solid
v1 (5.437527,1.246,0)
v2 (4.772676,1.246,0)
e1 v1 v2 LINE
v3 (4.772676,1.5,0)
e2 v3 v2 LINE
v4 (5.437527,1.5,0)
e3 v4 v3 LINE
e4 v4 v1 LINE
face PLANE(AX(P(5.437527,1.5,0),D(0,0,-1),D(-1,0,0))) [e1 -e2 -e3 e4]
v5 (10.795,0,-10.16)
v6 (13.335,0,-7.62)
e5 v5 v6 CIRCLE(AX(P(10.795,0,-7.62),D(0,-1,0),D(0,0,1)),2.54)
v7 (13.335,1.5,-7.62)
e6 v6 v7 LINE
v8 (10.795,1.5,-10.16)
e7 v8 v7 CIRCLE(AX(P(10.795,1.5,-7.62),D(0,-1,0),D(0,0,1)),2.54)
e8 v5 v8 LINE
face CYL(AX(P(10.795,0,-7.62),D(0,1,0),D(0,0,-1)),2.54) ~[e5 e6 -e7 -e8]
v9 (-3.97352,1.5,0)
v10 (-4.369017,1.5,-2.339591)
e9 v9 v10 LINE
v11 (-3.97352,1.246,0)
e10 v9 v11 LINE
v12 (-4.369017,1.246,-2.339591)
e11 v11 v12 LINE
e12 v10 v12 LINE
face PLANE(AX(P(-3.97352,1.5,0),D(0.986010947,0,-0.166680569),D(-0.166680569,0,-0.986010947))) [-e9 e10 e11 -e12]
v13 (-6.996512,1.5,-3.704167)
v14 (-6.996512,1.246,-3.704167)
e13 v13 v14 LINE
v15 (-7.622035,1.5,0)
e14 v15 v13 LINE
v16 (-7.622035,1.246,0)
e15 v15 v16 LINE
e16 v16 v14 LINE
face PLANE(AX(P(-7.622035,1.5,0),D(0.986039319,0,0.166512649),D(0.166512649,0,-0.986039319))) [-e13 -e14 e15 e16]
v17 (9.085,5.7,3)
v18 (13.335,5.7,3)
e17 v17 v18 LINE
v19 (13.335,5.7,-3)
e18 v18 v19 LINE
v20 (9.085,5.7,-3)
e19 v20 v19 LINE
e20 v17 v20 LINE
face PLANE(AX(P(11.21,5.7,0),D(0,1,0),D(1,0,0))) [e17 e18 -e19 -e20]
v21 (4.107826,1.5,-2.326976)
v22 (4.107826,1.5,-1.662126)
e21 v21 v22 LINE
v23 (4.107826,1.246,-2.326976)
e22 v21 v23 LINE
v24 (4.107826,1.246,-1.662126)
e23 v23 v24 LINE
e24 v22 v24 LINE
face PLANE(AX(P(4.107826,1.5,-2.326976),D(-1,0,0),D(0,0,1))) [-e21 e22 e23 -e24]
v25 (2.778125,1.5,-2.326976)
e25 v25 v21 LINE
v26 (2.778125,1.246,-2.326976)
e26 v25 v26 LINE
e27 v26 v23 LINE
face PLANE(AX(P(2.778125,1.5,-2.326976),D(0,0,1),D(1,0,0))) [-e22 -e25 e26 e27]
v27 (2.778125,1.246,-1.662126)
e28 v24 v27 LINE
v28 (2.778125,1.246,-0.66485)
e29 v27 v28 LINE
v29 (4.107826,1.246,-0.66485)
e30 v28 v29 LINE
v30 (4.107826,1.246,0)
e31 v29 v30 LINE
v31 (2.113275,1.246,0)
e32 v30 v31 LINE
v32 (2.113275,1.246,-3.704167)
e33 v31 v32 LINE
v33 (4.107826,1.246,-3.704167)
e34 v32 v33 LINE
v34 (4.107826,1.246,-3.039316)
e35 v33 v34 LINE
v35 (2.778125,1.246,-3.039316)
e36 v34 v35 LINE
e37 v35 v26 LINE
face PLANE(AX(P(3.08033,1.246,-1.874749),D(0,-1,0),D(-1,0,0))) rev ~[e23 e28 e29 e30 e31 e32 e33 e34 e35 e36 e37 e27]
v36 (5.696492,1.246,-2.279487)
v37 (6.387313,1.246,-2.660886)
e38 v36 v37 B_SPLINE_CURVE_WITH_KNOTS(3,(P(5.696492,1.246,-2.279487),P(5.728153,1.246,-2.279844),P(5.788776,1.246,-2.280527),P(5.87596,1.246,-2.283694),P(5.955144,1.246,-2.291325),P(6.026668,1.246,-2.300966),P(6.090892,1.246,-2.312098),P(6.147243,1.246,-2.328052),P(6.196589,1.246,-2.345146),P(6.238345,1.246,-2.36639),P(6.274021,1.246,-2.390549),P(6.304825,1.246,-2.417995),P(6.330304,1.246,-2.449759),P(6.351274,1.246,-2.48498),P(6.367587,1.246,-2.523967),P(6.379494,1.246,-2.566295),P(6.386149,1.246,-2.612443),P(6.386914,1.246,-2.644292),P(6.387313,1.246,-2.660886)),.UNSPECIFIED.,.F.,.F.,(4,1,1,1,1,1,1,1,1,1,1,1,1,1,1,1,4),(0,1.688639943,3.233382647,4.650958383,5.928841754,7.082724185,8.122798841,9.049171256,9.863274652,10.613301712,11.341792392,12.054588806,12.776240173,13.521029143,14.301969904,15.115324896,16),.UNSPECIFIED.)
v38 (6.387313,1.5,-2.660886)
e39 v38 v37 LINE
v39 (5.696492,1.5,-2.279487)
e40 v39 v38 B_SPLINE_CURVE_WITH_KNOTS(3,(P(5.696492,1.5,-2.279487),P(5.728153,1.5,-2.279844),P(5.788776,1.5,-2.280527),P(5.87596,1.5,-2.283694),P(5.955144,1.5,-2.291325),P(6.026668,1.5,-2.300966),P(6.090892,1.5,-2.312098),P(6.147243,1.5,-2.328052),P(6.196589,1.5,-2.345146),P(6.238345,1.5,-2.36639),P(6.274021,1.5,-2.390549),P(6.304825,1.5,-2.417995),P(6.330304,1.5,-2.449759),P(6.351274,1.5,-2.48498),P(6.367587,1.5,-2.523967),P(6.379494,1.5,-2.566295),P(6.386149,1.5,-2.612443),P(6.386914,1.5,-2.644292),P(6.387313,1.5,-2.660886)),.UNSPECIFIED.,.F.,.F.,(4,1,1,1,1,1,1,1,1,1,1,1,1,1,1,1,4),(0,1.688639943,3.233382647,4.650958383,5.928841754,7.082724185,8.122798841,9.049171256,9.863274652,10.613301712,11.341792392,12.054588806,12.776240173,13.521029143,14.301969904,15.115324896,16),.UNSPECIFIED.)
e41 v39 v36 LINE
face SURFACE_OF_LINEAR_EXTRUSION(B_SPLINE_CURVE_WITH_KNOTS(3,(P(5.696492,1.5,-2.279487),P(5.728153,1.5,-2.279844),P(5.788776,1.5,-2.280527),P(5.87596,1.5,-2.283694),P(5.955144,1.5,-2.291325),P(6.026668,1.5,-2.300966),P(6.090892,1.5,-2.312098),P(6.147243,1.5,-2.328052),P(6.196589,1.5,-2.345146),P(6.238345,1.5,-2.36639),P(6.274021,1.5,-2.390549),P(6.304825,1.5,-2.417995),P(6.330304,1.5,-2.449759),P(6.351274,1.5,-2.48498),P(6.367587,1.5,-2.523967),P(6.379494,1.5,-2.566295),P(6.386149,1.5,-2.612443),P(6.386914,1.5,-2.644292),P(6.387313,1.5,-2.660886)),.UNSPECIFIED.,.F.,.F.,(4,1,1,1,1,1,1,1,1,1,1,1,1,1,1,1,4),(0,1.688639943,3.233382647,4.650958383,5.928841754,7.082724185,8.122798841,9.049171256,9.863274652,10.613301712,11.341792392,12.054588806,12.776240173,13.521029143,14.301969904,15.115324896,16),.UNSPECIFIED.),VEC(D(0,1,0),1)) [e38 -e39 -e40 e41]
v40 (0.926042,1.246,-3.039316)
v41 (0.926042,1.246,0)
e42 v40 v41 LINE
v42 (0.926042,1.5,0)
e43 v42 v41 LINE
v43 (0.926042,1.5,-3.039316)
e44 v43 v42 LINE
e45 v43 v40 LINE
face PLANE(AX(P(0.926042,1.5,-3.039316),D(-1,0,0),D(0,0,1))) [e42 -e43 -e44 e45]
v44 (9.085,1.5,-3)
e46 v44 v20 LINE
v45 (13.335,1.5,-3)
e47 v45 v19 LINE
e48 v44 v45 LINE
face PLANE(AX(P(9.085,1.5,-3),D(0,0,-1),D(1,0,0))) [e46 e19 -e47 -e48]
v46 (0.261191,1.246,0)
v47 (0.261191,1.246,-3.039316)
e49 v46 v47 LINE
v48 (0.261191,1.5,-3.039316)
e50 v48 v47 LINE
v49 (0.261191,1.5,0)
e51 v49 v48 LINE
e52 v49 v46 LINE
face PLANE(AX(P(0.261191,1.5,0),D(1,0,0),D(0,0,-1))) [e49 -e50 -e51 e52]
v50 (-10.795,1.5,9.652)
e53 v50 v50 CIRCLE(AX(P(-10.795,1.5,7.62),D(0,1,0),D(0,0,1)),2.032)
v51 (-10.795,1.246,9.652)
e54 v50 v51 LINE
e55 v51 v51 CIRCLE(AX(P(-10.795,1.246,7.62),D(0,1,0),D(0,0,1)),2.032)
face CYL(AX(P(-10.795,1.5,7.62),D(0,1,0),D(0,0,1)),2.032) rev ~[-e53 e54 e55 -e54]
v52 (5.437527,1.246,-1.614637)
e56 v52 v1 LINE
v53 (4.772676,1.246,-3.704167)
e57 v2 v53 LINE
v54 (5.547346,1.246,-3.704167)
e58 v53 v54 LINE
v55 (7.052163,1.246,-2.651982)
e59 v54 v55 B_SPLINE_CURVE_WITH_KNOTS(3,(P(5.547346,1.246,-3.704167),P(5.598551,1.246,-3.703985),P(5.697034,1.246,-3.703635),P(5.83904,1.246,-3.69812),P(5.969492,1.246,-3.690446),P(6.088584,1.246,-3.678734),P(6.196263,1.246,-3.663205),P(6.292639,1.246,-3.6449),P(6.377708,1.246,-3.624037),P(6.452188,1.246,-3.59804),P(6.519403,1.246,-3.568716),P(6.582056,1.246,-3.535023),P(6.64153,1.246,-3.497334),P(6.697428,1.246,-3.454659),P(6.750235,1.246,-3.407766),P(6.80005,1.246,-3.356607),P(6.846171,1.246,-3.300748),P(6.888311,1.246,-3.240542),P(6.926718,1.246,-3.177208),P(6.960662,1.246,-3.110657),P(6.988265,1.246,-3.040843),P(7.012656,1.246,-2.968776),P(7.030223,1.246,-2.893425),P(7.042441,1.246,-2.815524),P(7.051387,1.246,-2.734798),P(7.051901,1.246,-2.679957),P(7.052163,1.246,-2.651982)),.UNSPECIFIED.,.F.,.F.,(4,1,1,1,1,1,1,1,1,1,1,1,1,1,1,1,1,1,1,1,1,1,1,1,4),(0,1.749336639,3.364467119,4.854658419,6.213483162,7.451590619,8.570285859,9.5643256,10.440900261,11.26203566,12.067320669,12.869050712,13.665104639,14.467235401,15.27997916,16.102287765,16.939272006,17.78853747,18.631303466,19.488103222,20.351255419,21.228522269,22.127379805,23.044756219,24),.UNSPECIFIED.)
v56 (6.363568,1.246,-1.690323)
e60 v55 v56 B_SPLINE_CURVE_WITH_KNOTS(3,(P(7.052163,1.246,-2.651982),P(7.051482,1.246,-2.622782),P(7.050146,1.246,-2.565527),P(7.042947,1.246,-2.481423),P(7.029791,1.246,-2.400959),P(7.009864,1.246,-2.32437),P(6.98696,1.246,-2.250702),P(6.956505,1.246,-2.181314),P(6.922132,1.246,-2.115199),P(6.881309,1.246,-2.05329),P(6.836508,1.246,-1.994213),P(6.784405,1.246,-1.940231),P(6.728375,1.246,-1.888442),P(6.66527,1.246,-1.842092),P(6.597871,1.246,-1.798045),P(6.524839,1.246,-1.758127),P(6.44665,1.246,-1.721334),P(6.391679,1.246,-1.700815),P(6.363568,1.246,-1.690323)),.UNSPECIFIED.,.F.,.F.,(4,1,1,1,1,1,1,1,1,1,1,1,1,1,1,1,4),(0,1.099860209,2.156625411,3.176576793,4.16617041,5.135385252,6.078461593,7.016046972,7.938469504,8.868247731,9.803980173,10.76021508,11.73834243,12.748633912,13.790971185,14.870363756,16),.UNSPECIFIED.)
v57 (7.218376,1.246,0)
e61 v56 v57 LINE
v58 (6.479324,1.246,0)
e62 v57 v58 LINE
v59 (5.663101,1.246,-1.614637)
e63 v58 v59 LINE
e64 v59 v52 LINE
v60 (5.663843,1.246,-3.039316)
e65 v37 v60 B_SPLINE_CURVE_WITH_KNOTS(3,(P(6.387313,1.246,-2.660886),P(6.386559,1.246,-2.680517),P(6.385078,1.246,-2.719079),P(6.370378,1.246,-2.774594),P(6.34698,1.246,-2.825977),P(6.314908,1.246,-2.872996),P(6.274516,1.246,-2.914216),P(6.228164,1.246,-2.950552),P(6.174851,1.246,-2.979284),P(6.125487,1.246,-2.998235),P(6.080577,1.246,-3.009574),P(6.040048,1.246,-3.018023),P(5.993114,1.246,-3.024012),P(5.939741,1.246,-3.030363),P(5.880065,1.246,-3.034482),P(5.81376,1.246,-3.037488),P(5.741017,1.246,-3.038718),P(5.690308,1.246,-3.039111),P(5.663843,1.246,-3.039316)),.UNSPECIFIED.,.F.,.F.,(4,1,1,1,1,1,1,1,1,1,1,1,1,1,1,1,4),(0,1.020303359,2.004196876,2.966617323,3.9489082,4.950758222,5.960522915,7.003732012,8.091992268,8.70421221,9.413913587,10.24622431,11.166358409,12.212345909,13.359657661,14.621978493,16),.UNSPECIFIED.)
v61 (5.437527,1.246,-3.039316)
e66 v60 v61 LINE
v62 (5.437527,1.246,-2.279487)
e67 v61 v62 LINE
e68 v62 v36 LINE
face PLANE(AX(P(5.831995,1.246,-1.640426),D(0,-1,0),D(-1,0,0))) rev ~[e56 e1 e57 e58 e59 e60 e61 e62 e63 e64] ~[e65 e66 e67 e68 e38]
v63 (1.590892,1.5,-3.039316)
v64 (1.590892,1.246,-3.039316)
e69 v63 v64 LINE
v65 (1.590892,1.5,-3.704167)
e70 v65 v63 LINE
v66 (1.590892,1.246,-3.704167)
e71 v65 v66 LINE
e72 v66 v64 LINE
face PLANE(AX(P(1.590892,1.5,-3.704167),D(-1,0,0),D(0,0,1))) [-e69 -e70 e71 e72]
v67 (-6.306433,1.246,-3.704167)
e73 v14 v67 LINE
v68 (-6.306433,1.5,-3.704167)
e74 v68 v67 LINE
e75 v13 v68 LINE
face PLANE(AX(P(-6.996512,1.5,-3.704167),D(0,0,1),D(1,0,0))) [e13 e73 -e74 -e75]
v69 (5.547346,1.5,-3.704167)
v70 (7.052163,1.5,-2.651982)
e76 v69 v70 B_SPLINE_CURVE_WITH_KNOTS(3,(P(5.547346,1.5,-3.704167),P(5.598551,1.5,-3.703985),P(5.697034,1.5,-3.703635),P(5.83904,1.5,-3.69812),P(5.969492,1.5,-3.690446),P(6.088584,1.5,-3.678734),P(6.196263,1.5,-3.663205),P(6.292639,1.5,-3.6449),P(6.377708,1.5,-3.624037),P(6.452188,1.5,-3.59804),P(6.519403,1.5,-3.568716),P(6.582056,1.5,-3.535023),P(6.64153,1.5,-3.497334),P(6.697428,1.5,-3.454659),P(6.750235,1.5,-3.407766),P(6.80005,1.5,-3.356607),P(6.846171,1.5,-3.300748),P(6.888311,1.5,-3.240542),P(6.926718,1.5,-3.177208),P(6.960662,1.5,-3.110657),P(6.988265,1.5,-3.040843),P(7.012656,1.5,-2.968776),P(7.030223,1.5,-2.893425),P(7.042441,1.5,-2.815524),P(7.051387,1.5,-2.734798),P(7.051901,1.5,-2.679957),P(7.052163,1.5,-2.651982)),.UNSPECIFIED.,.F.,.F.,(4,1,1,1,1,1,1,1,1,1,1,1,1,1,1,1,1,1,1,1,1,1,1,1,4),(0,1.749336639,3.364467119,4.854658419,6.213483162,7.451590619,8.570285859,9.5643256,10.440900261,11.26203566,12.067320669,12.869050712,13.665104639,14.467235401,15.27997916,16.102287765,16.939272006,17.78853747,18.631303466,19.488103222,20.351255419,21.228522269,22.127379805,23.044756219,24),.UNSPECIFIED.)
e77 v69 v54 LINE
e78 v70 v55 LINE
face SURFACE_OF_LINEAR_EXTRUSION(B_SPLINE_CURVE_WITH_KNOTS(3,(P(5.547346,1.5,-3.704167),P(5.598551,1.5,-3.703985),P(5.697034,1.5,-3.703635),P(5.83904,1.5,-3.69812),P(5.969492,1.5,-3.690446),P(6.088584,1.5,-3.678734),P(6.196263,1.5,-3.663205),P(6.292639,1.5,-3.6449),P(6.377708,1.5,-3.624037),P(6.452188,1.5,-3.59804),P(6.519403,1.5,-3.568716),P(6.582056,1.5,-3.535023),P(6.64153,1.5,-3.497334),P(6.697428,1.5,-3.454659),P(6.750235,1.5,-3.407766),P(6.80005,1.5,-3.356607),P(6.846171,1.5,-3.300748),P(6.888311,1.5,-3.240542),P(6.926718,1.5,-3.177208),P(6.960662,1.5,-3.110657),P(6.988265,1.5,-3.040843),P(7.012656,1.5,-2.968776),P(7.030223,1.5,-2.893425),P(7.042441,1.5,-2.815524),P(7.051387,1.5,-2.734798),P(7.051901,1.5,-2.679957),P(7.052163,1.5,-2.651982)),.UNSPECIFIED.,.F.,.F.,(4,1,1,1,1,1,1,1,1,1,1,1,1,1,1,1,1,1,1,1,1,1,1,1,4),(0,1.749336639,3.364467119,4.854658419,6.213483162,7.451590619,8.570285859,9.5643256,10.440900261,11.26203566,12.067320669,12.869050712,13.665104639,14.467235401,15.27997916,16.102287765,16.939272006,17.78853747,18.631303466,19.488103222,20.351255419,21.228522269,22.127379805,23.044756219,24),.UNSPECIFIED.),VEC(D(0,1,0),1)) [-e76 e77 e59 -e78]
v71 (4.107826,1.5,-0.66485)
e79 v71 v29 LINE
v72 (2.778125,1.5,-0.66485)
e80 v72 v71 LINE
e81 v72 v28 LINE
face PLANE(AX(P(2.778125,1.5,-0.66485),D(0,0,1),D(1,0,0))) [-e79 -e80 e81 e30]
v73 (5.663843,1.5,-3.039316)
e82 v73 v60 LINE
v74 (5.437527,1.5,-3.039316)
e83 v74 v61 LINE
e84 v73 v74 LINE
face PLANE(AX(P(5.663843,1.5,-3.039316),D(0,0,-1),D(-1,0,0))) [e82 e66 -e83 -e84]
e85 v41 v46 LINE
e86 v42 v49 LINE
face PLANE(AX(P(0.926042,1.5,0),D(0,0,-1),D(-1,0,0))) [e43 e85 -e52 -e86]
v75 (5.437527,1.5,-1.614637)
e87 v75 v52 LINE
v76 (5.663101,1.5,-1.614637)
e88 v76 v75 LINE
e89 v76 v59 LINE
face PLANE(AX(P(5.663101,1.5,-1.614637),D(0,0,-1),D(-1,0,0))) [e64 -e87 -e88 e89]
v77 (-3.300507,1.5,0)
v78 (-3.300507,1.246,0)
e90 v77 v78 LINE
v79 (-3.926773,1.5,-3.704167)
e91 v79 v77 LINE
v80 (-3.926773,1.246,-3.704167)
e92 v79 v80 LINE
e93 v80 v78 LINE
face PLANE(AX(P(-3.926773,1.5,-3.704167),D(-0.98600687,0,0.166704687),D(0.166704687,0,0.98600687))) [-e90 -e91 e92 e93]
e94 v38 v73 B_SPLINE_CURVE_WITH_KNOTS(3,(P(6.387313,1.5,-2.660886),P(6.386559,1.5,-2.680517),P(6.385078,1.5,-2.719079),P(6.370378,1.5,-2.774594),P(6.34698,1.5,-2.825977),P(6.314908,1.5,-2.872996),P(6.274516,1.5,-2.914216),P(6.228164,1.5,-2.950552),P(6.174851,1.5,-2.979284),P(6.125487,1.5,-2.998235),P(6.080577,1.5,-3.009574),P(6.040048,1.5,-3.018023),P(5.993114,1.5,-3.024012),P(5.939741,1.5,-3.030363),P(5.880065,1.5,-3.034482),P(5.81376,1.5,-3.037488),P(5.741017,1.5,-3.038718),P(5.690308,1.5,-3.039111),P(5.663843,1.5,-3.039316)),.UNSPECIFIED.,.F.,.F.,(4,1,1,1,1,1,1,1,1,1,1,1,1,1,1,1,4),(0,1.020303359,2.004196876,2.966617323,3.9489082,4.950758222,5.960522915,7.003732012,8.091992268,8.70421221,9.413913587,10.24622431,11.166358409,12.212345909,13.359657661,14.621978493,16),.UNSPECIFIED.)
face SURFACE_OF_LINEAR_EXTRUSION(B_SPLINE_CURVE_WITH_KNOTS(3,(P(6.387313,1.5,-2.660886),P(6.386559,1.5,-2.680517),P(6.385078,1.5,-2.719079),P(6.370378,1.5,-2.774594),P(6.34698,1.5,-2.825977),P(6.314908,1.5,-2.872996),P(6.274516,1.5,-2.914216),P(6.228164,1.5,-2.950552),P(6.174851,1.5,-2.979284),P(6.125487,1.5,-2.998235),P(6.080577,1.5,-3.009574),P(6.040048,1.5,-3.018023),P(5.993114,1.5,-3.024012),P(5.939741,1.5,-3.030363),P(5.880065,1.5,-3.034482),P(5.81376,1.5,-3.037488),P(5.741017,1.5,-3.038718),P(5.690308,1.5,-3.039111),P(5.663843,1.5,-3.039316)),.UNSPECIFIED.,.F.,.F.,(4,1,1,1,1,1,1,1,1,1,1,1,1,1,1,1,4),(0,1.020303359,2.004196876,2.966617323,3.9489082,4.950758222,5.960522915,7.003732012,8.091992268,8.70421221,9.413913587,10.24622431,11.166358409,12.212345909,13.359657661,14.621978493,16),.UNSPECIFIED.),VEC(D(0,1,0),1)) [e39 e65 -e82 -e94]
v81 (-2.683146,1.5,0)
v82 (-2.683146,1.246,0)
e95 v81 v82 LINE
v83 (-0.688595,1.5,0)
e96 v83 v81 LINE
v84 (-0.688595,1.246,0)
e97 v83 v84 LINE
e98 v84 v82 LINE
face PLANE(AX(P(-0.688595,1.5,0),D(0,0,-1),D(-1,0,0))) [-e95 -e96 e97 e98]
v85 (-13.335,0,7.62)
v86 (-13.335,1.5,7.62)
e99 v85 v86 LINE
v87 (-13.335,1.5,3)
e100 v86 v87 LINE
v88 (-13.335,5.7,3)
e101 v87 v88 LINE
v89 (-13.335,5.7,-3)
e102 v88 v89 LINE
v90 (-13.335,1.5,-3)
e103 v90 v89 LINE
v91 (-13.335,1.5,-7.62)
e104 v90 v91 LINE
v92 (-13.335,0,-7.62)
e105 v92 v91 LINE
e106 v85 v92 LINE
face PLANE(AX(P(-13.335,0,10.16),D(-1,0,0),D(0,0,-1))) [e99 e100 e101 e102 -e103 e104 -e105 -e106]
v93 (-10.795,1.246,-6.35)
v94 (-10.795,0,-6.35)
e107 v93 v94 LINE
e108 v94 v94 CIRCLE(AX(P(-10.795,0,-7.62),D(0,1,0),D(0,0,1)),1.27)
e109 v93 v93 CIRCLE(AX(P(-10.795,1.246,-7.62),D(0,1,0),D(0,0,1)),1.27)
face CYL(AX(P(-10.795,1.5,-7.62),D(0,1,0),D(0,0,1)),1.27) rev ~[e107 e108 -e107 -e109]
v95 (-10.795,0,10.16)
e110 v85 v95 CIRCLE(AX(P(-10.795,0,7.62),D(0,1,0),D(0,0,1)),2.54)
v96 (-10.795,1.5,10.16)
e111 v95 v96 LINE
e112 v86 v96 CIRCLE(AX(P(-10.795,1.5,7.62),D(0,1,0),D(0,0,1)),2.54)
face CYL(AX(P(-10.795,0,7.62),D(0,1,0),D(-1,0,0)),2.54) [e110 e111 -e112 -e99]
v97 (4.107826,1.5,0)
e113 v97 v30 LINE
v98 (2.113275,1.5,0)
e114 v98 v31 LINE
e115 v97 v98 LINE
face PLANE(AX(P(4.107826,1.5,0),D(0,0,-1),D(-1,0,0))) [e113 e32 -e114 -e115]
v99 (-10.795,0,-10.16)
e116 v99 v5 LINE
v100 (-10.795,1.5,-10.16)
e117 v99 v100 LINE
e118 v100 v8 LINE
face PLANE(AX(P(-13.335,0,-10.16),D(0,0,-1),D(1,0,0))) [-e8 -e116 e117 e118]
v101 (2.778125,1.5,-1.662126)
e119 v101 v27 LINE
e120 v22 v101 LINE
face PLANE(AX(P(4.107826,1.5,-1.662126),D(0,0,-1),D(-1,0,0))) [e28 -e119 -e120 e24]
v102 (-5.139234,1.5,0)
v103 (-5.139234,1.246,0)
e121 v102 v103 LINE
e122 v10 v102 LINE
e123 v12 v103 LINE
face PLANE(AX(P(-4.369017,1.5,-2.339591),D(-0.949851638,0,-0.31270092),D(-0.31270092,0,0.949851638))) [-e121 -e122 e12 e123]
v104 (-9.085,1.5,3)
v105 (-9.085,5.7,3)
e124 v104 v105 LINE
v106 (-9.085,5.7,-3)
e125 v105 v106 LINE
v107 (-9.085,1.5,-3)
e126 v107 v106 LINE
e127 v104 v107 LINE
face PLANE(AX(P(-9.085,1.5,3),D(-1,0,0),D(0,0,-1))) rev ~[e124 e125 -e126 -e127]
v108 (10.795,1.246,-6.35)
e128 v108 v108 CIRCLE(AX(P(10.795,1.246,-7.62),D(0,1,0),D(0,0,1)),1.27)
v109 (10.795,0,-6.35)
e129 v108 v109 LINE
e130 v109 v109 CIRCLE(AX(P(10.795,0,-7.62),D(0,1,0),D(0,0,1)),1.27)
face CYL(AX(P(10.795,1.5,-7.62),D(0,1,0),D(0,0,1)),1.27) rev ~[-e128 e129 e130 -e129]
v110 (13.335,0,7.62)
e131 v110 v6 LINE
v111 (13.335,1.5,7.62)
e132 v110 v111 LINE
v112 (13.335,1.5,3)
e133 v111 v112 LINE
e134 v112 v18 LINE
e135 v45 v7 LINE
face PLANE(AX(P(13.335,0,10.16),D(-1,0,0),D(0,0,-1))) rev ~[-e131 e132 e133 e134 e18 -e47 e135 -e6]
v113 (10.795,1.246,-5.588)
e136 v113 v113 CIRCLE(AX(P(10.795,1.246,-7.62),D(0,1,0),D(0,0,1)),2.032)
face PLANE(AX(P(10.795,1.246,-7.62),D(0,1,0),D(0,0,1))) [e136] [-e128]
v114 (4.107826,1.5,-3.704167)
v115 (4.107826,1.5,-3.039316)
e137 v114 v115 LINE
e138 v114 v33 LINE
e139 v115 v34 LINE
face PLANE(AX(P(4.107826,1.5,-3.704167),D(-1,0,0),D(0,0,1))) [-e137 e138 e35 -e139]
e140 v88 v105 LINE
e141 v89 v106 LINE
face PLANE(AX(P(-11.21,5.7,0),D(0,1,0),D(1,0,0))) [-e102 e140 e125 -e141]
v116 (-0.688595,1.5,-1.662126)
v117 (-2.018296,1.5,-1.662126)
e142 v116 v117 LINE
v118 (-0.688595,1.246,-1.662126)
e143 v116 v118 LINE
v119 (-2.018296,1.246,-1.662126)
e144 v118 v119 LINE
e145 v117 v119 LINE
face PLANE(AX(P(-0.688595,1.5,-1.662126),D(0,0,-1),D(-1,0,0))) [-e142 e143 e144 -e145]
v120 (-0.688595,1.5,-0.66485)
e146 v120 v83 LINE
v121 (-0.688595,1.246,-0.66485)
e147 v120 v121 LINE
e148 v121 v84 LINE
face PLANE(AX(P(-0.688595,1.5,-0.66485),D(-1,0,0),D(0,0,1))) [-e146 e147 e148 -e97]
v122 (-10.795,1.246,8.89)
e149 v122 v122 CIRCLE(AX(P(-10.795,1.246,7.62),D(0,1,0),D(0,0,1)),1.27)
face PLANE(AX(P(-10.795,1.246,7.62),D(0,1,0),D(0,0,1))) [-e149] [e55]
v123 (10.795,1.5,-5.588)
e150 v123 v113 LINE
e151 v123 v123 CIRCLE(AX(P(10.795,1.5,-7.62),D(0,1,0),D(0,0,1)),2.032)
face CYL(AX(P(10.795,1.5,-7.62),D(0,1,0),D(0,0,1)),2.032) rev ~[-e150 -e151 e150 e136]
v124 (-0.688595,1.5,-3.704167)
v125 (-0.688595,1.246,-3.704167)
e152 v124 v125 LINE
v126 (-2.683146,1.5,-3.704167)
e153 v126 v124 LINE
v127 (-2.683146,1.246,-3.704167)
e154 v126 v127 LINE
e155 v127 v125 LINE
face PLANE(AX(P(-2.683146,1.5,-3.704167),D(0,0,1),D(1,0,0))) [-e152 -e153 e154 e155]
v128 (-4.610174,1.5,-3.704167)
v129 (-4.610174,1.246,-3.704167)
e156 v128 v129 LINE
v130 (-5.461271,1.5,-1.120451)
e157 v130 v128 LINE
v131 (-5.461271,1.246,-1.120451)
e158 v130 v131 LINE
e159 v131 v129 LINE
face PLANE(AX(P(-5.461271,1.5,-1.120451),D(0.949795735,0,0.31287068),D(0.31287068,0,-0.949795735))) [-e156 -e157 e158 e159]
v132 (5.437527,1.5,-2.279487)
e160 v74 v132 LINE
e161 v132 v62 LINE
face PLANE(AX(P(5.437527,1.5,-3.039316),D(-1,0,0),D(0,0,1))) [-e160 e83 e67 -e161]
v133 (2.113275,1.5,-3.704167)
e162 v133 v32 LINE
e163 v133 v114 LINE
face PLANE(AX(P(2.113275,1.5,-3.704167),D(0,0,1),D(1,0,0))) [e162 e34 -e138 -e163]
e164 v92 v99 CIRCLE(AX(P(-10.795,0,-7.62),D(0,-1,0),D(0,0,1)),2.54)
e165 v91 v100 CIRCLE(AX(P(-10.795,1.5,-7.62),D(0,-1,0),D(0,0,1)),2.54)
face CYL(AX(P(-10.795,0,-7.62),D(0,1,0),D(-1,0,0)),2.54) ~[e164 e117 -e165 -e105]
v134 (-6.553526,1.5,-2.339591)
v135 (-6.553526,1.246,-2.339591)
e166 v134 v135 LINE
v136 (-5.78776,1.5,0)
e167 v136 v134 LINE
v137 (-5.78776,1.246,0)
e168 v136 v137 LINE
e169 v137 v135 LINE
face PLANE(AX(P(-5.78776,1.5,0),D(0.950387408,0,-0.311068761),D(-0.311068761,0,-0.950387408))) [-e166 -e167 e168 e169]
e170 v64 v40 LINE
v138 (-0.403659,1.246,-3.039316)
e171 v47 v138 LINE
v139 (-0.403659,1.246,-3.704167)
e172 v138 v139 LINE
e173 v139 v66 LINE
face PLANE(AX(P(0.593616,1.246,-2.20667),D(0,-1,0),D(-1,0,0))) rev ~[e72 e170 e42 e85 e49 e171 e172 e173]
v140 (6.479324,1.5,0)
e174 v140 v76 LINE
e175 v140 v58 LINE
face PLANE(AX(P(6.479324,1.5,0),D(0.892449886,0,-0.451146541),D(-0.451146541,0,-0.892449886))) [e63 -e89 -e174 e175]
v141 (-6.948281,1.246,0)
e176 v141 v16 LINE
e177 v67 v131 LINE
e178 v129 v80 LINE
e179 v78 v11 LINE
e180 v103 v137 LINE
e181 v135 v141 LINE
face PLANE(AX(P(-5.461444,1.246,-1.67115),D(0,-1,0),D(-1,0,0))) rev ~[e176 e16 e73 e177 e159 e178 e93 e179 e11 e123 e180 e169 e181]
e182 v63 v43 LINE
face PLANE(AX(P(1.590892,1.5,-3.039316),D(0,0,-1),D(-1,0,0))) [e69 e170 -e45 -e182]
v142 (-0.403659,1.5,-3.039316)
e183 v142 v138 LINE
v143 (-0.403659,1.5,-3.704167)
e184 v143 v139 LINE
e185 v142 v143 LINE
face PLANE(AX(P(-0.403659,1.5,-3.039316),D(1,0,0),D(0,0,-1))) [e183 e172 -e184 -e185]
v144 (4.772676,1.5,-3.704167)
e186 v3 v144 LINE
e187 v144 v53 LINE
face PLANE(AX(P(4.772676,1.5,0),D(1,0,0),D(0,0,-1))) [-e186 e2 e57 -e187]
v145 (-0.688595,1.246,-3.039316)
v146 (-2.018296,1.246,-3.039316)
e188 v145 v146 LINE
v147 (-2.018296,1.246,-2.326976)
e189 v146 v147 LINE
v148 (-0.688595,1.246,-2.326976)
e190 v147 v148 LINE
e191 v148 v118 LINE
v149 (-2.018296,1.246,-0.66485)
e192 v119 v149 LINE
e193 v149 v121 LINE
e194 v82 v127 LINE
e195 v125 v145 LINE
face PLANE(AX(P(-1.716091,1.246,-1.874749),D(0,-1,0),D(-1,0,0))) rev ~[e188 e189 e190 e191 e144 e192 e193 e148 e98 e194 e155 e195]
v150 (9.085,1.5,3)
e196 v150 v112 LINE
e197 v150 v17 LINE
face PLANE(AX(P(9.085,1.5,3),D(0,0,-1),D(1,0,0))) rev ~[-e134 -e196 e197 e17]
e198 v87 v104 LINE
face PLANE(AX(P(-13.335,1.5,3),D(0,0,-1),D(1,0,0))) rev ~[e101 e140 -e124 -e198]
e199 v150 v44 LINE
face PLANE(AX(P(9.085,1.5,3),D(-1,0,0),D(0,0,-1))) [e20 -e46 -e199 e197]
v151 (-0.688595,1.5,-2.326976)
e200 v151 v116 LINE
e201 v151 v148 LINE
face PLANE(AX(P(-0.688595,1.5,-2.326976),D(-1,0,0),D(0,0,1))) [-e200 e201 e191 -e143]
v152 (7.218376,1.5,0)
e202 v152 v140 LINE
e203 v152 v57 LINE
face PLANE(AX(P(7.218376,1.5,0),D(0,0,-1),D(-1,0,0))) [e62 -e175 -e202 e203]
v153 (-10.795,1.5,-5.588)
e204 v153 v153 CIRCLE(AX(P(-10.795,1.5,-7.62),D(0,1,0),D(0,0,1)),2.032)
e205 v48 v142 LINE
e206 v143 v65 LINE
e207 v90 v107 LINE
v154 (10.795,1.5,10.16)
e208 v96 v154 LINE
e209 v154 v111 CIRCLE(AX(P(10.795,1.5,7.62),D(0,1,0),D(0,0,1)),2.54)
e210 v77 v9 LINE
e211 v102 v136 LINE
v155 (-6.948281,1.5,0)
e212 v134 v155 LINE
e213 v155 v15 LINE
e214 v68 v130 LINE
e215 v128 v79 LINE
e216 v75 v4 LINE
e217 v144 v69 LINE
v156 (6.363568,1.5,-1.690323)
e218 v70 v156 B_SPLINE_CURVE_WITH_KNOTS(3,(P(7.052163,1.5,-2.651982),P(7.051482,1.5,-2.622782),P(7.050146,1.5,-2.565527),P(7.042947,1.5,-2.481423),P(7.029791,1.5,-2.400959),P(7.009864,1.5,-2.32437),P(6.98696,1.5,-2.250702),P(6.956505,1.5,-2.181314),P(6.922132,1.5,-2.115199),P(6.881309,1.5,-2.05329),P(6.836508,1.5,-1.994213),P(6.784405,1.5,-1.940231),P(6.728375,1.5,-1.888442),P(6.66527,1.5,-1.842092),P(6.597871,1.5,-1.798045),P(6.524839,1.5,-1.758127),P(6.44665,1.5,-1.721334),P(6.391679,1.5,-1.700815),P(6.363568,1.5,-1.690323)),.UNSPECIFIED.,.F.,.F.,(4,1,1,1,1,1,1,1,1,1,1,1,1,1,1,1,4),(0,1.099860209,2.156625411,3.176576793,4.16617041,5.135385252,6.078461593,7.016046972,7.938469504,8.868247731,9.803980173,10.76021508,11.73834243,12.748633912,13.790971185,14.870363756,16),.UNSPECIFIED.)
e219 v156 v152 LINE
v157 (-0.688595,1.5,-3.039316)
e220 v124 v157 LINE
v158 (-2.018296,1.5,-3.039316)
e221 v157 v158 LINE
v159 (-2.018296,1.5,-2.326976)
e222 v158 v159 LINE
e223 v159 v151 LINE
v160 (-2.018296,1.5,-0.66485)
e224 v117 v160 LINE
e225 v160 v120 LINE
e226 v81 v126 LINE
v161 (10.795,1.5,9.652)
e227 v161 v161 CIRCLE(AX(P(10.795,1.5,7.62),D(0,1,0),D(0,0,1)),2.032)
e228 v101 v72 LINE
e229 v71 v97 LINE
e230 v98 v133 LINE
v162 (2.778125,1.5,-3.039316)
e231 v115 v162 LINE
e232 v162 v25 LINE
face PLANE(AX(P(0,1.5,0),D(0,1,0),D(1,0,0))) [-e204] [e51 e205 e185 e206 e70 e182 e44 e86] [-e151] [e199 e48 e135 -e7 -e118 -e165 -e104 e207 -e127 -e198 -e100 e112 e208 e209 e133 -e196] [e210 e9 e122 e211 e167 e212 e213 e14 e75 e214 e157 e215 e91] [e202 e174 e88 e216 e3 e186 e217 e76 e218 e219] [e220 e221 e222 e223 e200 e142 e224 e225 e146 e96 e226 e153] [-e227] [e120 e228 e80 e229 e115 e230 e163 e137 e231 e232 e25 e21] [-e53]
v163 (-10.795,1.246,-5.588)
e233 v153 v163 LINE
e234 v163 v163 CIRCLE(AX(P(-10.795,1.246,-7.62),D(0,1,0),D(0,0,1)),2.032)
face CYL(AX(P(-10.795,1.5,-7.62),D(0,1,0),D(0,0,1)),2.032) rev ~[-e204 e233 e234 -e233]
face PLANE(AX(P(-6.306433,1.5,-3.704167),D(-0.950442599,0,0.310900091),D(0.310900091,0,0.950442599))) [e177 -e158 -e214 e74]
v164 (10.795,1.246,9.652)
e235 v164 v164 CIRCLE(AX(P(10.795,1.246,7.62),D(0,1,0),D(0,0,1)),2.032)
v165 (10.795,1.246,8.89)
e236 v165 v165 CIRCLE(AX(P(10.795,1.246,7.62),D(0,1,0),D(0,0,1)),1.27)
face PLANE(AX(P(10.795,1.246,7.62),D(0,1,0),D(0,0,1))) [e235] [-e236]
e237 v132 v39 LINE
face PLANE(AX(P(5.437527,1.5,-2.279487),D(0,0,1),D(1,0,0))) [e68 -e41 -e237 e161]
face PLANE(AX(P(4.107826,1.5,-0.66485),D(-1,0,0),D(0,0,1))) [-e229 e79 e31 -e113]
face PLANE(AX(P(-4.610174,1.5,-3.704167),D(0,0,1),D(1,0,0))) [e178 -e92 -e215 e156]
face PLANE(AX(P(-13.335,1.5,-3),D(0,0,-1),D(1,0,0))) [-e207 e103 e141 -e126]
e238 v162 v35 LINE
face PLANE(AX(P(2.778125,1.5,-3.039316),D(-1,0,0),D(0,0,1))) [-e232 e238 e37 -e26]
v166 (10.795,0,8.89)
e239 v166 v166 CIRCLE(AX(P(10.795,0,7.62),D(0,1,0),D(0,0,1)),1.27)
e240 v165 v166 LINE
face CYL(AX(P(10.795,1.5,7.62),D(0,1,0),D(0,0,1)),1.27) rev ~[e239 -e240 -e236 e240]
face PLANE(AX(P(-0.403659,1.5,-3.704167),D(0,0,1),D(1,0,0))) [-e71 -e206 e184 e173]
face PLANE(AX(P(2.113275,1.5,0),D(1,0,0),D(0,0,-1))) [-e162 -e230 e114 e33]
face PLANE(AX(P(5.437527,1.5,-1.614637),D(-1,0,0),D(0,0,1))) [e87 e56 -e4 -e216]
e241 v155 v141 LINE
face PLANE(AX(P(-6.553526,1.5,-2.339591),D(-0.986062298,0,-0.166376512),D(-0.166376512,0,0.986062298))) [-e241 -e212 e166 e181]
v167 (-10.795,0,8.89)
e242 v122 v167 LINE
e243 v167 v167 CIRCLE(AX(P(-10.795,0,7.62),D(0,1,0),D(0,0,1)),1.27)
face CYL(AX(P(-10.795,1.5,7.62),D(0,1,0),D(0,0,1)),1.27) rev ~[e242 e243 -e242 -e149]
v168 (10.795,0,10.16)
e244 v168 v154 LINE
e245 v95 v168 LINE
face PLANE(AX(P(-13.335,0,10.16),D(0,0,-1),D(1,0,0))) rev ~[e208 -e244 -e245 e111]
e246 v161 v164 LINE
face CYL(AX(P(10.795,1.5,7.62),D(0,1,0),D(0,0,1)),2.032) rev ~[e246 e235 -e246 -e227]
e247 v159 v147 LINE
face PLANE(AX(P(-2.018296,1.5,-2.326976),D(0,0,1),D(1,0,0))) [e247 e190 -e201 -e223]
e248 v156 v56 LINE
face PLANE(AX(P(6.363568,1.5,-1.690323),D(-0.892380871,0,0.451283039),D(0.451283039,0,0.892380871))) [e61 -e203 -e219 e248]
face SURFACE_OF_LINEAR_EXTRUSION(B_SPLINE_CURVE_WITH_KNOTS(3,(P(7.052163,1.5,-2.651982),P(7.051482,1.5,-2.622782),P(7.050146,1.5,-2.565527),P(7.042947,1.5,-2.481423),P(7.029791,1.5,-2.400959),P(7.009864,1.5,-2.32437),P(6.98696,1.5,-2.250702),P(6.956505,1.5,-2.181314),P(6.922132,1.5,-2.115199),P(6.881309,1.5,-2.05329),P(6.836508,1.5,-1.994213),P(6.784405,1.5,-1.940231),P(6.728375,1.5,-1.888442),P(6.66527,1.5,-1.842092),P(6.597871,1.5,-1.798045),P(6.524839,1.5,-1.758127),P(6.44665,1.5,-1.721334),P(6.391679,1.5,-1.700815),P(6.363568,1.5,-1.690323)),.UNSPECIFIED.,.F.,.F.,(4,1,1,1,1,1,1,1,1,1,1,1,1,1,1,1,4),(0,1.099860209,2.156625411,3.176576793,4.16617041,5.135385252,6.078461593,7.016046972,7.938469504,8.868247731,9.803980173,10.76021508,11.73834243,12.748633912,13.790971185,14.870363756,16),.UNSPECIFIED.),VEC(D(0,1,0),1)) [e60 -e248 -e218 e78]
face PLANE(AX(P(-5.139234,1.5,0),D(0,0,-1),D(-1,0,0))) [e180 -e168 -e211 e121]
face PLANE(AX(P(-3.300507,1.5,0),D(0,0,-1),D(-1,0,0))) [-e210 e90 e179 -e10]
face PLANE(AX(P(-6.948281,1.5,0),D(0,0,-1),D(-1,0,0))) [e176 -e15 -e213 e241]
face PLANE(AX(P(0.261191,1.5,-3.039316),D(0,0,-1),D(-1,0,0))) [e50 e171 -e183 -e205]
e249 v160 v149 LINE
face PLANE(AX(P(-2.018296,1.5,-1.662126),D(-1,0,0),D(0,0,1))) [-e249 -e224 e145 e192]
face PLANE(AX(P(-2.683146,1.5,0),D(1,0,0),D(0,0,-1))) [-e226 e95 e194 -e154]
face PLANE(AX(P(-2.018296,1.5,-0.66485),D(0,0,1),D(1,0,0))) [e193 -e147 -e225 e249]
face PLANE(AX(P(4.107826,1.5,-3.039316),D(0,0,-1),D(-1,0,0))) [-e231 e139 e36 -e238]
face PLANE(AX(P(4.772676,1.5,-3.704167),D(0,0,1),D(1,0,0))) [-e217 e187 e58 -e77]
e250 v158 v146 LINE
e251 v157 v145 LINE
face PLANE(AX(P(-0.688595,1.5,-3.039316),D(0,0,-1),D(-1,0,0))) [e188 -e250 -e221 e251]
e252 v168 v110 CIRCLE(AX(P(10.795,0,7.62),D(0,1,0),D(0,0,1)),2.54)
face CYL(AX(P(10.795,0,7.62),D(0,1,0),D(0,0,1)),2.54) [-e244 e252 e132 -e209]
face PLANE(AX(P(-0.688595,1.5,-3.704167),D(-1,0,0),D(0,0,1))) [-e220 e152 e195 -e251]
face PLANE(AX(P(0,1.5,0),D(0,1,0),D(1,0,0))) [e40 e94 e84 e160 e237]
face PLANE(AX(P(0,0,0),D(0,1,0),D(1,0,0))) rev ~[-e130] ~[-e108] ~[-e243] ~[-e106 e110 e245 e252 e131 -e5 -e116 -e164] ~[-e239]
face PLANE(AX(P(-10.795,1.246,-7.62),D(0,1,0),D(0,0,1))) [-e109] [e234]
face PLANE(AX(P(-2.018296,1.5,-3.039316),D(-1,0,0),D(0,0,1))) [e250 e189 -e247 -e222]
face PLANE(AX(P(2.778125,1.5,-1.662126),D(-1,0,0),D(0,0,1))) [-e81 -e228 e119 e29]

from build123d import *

# Parameters (mm, degrees)
SKETCH1_W           = 26.67
SKETCH1_H           = 20.32
BOSS_EXTRUDE1_DEPTH = 1.5
SKETCH2_R           = 1.27
CUT_EXTRUDE1_DEPTH  = 17.831453443
FILLET1_R           = 2.54
CUT_EXTRUDE2_DEPTH  = 0.254
SKETCH4_R           = 2.032
SKETCH4_R_2         = 1.27
CUT_EXTRUDE3_DEPTH  = 0.254
SKETCH5_W           = 4.25
SKETCH5_H           = 6
BOSS_EXTRUDE3_DEPTH = 4.2


with BuildPart() as part:
    # Sketch1 → Boss-Extrude1 (new body)
    with BuildSketch(Plane(origin=(0, 0, 0), x_dir=(1, 0, 0), z_dir=(0, 1, 0))):
        Rectangle(SKETCH1_W, SKETCH1_H)
    extrude(amount=BOSS_EXTRUDE1_DEPTH)

    # Sketch2 → Cut-Extrude1 (cut, through all)
    with BuildSketch(Plane(origin=(0, 1.5, 0), x_dir=(1, 0, 0), z_dir=(0, 1, 0))):
        with Locations(Location((10.795, 7.62, 0), (0, 0, 270))):
            Circle(SKETCH2_R)
        with Locations(Location((-10.795, 7.62, 0), (0, 0, 270))):
            Circle(SKETCH2_R)
        with Locations(Location((-10.795, -7.62, 0), (0, 0, 270))):
            Circle(SKETCH2_R)
        with Locations(Location((10.795, -7.62, 0), (0, 0, 270))):
            Circle(SKETCH2_R)
    extrude(amount=-CUT_EXTRUDE1_DEPTH, mode=Mode.SUBTRACT)

    # Fillet1
    fillet1_edges = [part.edges().sort_by_distance(p)[0] for p in [
        (13.335, 0.75, 10.16),
        (-13.335, 0.75, 10.16),
        (-13.335, 0.75, -10.16),
        (13.335, 0.75, -10.16),
    ]]
    fillet(fillet1_edges, radius=FILLET1_R)

    # Sketch3 → Cut-Extrude2 (cut)
    # profile 1 of 5: a face of its own
    with BuildSketch(Plane(origin=(0, 1.5, 0), x_dir=(1, 0, 0), z_dir=(0, 1, 0))):
        Polygon((-6.996511919, 3.704166667), (-6.306432792, 3.704166667), (-5.461271368, 1.120451055), (-4.610173778, 3.704166667), (-3.926772837, 3.704166667), (-3.300507479, 0), (-3.973520132, 0), (-4.369017094, 2.339590845), (-5.139234442, 0), (-5.787760417, 0), (-6.553525641, 2.339590845), (-6.948280582, 0), (-7.622035256, 0), align=None)
    # profile 2 of 5: a face of its own
    with BuildSketch(Plane(origin=(0, 1.5, 0), x_dir=(1, 0, 0), z_dir=(0, 1, 0))):
        Polygon((-2.683146368, 3.704166667), (-0.688595085, 3.704166667), (-0.688595085, 3.039316239), (-2.01829594, 3.039316239), (-2.01829594, 2.326976496), (-0.688595085, 2.326976496), (-0.688595085, 1.662126068), (-2.01829594, 1.662126068), (-2.01829594, 0.664850427), (-0.688595085, 0.664850427), (-0.688595085, 0), (-2.683146368, 0), align=None)
    # profile 3 of 5: a face of its own
    with BuildSketch(Plane(origin=(0, 1.5, 0), x_dir=(1, 0, 0), z_dir=(0, 1, 0))):
        Polygon((-0.403659188, 3.704166667), (1.590892094, 3.704166667), (1.590892094, 3.039316239), (0.926041667, 3.039316239), (0.926041667, 0), (0.261191239, 0), (0.261191239, 3.039316239), (-0.403659188, 3.039316239), align=None)
    # profile 4 of 5: a face of its own
    with BuildSketch(Plane(origin=(0, 1.5, 0), x_dir=(1, 0, 0), z_dir=(0, 1, 0))):
        Polygon((2.113274573, 3.704166667), (4.107825855, 3.704166667), (4.107825855, 3.039316239), (2.778125, 3.039316239), (2.778125, 2.326976496), (4.107825855, 2.326976496), (4.107825855, 1.662126068), (2.778125, 1.662126068), (2.778125, 0.664850427), (4.107825855, 0.664850427), (4.107825855, 0), (2.113274573, 0), align=None)
    # profile 5 of 5: a face of its own
    with BuildSketch(Plane(origin=(0, 1.5, 0), x_dir=(1, 0, 0), z_dir=(0, 1, 0))):
        with BuildLine():
            Line((4.772676282, 3.704166667), (5.547345753, 3.704166667))
            add(Edge.make_bspline(
                [(5.547345753, 3.704166667), (5.598551169, 3.703984917), (5.697033609, 3.703635361), (5.839039907, 3.698120291), (5.969492221, 3.690445618), (6.088583697, 3.678733864), (6.196263387, 3.663205494), (6.292639209, 3.644900116), (6.377708347, 3.624037212), (6.452188242, 3.598040388), (6.519402665, 3.568716365), (6.582055851, 3.535022525), (6.641530024, 3.497334059), (6.697427662, 3.454659282), (6.75023453, 3.407765903), (6.800050251, 3.356606718), (6.846170881, 3.30074792), (6.888310842, 3.240542464), (6.926718023, 3.177207705), (6.960661917, 3.110656684), (6.988265147, 3.040843118), (7.01265556, 2.968775966), (7.030223185, 2.893425013), (7.04244121, 2.815523813), (7.051386771, 2.734798146), (7.051901098, 2.679956711), (7.052163462, 2.651981504)],
                knots=[0, 0, 0, 0, 1.749336639, 3.364467119, 4.854658419, 6.213483162, 7.451590619, 8.570285859, 9.5643256, 10.440900261, 11.26203566, 12.067320669, 12.869050712, 13.665104639, 14.467235401, 15.27997916, 16.102287765, 16.939272006, 17.78853747, 18.631303466, 19.488103222, 20.351255419, 21.228522269, 22.127379805, 23.044756219, 24, 24, 24, 24], degree=3))
            add(Edge.make_bspline(
                [(7.052163462, 2.651981504), (7.051481935, 2.622781813), (7.050145585, 2.565526543), (7.04294728, 2.481423219), (7.029791039, 2.400959043), (7.009863997, 2.324369601), (6.986960451, 2.250701651), (6.95650461, 2.18131441), (6.922132184, 2.115198744), (6.881309057, 2.053289882), (6.83650767, 1.994212705), (6.784404599, 1.940230679), (6.728375323, 1.888442475), (6.665270232, 1.842091929), (6.597871057, 1.798044986), (6.524838649, 1.758126726), (6.44664964, 1.721333695), (6.391678895, 1.700815359), (6.363568376, 1.69032285)],
                knots=[0, 0, 0, 0, 1.099860209, 2.156625411, 3.176576793, 4.16617041, 5.135385252, 6.078461593, 7.016046972, 7.938469504, 8.868247731, 9.803980173, 10.76021508, 11.73834243, 12.748633912, 13.790971185, 14.870363756, 16, 16, 16, 16], degree=3))
            Line((6.363568376, 1.69032285), (7.218376068, 0))
            Line((7.218376068, 0), (6.479323584, 0))
            Line((6.479323584, 0), (5.663100962, 1.614636752))
            Line((5.663100962, 1.614636752), (5.437526709, 1.614636752))
            Line((5.437526709, 1.614636752), (5.437526709, 0))
            Line((5.437526709, 0), (4.772676282, 0))
            Line((4.772676282, 0), (4.772676282, 3.704166667))
        make_face()
        with BuildLine():
            Line((5.437526709, 2.279487179), (5.696491887, 2.279487179))
            add(Edge.make_bspline(
                [(5.696491887, 2.279487179), (5.728152533, 2.279843763), (5.788775866, 2.280526544), (5.875960182, 2.283693564), (5.955144333, 2.291324517), (6.026668362, 2.300965941), (6.090892173, 2.312098358), (6.147242912, 2.328051787), (6.196588856, 2.34514629), (6.238345256, 2.366390323), (6.274020965, 2.390549396), (6.304824656, 2.417994704), (6.330303725, 2.449759153), (6.351274298, 2.484979522), (6.367587124, 2.523967328), (6.379494238, 2.566294572), (6.386148553, 2.612443416), (6.386914155, 2.644292402), (6.387313034, 2.660885751)],
                knots=[0, 0, 0, 0, 1.688639943, 3.233382647, 4.650958383, 5.928841754, 7.082724185, 8.122798841, 9.049171256, 9.863274652, 10.613301712, 11.341792392, 12.054588806, 12.776240173, 13.521029143, 14.301969904, 15.115324896, 16, 16, 16, 16], degree=3))
            add(Edge.make_bspline(
                [(6.387313034, 2.660885751), (6.386558917, 2.680516893), (6.385077593, 2.719078635), (6.370378255, 2.774594022), (6.346980086, 2.825977311), (6.314907604, 2.872996339), (6.274516483, 2.914216465), (6.228164484, 2.950552334), (6.174851221, 2.979284021), (6.125487151, 2.998235136), (6.080577385, 3.009573783), (6.040047739, 3.018023243), (5.993114165, 3.024011617), (5.93974123, 3.030363355), (5.880064984, 3.034482135), (5.813760155, 3.037488023), (5.741017172, 3.03871788), (5.690308404, 3.039111043), (5.663842982, 3.039316239)],
                knots=[0, 0, 0, 0, 1.020303359, 2.004196876, 2.966617323, 3.9489082, 4.950758222, 5.960522915, 7.003732012, 8.091992268, 8.70421221, 9.413913587, 10.24622431, 11.166358409, 12.212345909, 13.359657661, 14.621978493, 16, 16, 16, 16], degree=3))
            Line((5.663842982, 3.039316239), (5.437526709, 3.039316239))
            Line((5.437526709, 3.039316239), (5.437526709, 2.279487179))
        make_face(mode=Mode.SUBTRACT)
    extrude(amount=-CUT_EXTRUDE2_DEPTH, mode=Mode.SUBTRACT)

    # Sketch4 → Cut-Extrude3 (cut)
    # profile 1 of 4: a face of its own
    with BuildSketch(Plane(origin=(0, 1.5, 0), x_dir=(1, 0, 0), z_dir=(0, 1, 0))):
        with Locations(Location((-10.795, 7.62, 0), (0, 0, 270))):
            Circle(SKETCH4_R)
        with Locations(Location((-10.795, 7.62, 0), (0, 0, 270))):
            Circle(SKETCH4_R_2, mode=Mode.SUBTRACT)
    # profile 2 of 4: a face of its own
    with BuildSketch(Plane(origin=(0, 1.5, 0), x_dir=(1, 0, 0), z_dir=(0, 1, 0))):
        with Locations(Location((10.795, 7.62, 0), (0, 0, 270))):
            Circle(SKETCH4_R)
        with Locations(Location((10.795, 7.62, 0), (0, 0, 270))):
            Circle(SKETCH4_R_2, mode=Mode.SUBTRACT)
    # profile 3 of 4: a face of its own
    with BuildSketch(Plane(origin=(0, 1.5, 0), x_dir=(1, 0, 0), z_dir=(0, 1, 0))):
        with Locations(Location((10.795, -7.62, 0), (0, 0, 270))):
            Circle(SKETCH4_R)
        with Locations(Location((10.795, -7.62, 0), (0, 0, 270))):
            Circle(SKETCH4_R_2, mode=Mode.SUBTRACT)
    # profile 4 of 4: a face of its own
    with BuildSketch(Plane(origin=(0, 1.5, 0), x_dir=(1, 0, 0), z_dir=(0, 1, 0))):
        with Locations(Location((-10.795, -7.62, 0), (0, 0, 270))):
            Circle(SKETCH4_R)
        with Locations(Location((-10.795, -7.62, 0), (0, 0, 270))):
            Circle(SKETCH4_R_2, mode=Mode.SUBTRACT)
    extrude(amount=-CUT_EXTRUDE3_DEPTH, mode=Mode.SUBTRACT)

    # Sketch5 → Boss-Extrude3 (add)
    with BuildSketch(Plane(origin=(0, 1.5, 0), x_dir=(1, 0, 0), z_dir=(0, 1, 0))):
        with Locations((-11.21, 0)):
            Rectangle(SKETCH5_W, SKETCH5_H)
        with Locations((11.21, 0)):
            Rectangle(SKETCH5_W, SKETCH5_H)
    extrude(amount=BOSS_EXTRUDE3_DEPTH)


solid = part.part
